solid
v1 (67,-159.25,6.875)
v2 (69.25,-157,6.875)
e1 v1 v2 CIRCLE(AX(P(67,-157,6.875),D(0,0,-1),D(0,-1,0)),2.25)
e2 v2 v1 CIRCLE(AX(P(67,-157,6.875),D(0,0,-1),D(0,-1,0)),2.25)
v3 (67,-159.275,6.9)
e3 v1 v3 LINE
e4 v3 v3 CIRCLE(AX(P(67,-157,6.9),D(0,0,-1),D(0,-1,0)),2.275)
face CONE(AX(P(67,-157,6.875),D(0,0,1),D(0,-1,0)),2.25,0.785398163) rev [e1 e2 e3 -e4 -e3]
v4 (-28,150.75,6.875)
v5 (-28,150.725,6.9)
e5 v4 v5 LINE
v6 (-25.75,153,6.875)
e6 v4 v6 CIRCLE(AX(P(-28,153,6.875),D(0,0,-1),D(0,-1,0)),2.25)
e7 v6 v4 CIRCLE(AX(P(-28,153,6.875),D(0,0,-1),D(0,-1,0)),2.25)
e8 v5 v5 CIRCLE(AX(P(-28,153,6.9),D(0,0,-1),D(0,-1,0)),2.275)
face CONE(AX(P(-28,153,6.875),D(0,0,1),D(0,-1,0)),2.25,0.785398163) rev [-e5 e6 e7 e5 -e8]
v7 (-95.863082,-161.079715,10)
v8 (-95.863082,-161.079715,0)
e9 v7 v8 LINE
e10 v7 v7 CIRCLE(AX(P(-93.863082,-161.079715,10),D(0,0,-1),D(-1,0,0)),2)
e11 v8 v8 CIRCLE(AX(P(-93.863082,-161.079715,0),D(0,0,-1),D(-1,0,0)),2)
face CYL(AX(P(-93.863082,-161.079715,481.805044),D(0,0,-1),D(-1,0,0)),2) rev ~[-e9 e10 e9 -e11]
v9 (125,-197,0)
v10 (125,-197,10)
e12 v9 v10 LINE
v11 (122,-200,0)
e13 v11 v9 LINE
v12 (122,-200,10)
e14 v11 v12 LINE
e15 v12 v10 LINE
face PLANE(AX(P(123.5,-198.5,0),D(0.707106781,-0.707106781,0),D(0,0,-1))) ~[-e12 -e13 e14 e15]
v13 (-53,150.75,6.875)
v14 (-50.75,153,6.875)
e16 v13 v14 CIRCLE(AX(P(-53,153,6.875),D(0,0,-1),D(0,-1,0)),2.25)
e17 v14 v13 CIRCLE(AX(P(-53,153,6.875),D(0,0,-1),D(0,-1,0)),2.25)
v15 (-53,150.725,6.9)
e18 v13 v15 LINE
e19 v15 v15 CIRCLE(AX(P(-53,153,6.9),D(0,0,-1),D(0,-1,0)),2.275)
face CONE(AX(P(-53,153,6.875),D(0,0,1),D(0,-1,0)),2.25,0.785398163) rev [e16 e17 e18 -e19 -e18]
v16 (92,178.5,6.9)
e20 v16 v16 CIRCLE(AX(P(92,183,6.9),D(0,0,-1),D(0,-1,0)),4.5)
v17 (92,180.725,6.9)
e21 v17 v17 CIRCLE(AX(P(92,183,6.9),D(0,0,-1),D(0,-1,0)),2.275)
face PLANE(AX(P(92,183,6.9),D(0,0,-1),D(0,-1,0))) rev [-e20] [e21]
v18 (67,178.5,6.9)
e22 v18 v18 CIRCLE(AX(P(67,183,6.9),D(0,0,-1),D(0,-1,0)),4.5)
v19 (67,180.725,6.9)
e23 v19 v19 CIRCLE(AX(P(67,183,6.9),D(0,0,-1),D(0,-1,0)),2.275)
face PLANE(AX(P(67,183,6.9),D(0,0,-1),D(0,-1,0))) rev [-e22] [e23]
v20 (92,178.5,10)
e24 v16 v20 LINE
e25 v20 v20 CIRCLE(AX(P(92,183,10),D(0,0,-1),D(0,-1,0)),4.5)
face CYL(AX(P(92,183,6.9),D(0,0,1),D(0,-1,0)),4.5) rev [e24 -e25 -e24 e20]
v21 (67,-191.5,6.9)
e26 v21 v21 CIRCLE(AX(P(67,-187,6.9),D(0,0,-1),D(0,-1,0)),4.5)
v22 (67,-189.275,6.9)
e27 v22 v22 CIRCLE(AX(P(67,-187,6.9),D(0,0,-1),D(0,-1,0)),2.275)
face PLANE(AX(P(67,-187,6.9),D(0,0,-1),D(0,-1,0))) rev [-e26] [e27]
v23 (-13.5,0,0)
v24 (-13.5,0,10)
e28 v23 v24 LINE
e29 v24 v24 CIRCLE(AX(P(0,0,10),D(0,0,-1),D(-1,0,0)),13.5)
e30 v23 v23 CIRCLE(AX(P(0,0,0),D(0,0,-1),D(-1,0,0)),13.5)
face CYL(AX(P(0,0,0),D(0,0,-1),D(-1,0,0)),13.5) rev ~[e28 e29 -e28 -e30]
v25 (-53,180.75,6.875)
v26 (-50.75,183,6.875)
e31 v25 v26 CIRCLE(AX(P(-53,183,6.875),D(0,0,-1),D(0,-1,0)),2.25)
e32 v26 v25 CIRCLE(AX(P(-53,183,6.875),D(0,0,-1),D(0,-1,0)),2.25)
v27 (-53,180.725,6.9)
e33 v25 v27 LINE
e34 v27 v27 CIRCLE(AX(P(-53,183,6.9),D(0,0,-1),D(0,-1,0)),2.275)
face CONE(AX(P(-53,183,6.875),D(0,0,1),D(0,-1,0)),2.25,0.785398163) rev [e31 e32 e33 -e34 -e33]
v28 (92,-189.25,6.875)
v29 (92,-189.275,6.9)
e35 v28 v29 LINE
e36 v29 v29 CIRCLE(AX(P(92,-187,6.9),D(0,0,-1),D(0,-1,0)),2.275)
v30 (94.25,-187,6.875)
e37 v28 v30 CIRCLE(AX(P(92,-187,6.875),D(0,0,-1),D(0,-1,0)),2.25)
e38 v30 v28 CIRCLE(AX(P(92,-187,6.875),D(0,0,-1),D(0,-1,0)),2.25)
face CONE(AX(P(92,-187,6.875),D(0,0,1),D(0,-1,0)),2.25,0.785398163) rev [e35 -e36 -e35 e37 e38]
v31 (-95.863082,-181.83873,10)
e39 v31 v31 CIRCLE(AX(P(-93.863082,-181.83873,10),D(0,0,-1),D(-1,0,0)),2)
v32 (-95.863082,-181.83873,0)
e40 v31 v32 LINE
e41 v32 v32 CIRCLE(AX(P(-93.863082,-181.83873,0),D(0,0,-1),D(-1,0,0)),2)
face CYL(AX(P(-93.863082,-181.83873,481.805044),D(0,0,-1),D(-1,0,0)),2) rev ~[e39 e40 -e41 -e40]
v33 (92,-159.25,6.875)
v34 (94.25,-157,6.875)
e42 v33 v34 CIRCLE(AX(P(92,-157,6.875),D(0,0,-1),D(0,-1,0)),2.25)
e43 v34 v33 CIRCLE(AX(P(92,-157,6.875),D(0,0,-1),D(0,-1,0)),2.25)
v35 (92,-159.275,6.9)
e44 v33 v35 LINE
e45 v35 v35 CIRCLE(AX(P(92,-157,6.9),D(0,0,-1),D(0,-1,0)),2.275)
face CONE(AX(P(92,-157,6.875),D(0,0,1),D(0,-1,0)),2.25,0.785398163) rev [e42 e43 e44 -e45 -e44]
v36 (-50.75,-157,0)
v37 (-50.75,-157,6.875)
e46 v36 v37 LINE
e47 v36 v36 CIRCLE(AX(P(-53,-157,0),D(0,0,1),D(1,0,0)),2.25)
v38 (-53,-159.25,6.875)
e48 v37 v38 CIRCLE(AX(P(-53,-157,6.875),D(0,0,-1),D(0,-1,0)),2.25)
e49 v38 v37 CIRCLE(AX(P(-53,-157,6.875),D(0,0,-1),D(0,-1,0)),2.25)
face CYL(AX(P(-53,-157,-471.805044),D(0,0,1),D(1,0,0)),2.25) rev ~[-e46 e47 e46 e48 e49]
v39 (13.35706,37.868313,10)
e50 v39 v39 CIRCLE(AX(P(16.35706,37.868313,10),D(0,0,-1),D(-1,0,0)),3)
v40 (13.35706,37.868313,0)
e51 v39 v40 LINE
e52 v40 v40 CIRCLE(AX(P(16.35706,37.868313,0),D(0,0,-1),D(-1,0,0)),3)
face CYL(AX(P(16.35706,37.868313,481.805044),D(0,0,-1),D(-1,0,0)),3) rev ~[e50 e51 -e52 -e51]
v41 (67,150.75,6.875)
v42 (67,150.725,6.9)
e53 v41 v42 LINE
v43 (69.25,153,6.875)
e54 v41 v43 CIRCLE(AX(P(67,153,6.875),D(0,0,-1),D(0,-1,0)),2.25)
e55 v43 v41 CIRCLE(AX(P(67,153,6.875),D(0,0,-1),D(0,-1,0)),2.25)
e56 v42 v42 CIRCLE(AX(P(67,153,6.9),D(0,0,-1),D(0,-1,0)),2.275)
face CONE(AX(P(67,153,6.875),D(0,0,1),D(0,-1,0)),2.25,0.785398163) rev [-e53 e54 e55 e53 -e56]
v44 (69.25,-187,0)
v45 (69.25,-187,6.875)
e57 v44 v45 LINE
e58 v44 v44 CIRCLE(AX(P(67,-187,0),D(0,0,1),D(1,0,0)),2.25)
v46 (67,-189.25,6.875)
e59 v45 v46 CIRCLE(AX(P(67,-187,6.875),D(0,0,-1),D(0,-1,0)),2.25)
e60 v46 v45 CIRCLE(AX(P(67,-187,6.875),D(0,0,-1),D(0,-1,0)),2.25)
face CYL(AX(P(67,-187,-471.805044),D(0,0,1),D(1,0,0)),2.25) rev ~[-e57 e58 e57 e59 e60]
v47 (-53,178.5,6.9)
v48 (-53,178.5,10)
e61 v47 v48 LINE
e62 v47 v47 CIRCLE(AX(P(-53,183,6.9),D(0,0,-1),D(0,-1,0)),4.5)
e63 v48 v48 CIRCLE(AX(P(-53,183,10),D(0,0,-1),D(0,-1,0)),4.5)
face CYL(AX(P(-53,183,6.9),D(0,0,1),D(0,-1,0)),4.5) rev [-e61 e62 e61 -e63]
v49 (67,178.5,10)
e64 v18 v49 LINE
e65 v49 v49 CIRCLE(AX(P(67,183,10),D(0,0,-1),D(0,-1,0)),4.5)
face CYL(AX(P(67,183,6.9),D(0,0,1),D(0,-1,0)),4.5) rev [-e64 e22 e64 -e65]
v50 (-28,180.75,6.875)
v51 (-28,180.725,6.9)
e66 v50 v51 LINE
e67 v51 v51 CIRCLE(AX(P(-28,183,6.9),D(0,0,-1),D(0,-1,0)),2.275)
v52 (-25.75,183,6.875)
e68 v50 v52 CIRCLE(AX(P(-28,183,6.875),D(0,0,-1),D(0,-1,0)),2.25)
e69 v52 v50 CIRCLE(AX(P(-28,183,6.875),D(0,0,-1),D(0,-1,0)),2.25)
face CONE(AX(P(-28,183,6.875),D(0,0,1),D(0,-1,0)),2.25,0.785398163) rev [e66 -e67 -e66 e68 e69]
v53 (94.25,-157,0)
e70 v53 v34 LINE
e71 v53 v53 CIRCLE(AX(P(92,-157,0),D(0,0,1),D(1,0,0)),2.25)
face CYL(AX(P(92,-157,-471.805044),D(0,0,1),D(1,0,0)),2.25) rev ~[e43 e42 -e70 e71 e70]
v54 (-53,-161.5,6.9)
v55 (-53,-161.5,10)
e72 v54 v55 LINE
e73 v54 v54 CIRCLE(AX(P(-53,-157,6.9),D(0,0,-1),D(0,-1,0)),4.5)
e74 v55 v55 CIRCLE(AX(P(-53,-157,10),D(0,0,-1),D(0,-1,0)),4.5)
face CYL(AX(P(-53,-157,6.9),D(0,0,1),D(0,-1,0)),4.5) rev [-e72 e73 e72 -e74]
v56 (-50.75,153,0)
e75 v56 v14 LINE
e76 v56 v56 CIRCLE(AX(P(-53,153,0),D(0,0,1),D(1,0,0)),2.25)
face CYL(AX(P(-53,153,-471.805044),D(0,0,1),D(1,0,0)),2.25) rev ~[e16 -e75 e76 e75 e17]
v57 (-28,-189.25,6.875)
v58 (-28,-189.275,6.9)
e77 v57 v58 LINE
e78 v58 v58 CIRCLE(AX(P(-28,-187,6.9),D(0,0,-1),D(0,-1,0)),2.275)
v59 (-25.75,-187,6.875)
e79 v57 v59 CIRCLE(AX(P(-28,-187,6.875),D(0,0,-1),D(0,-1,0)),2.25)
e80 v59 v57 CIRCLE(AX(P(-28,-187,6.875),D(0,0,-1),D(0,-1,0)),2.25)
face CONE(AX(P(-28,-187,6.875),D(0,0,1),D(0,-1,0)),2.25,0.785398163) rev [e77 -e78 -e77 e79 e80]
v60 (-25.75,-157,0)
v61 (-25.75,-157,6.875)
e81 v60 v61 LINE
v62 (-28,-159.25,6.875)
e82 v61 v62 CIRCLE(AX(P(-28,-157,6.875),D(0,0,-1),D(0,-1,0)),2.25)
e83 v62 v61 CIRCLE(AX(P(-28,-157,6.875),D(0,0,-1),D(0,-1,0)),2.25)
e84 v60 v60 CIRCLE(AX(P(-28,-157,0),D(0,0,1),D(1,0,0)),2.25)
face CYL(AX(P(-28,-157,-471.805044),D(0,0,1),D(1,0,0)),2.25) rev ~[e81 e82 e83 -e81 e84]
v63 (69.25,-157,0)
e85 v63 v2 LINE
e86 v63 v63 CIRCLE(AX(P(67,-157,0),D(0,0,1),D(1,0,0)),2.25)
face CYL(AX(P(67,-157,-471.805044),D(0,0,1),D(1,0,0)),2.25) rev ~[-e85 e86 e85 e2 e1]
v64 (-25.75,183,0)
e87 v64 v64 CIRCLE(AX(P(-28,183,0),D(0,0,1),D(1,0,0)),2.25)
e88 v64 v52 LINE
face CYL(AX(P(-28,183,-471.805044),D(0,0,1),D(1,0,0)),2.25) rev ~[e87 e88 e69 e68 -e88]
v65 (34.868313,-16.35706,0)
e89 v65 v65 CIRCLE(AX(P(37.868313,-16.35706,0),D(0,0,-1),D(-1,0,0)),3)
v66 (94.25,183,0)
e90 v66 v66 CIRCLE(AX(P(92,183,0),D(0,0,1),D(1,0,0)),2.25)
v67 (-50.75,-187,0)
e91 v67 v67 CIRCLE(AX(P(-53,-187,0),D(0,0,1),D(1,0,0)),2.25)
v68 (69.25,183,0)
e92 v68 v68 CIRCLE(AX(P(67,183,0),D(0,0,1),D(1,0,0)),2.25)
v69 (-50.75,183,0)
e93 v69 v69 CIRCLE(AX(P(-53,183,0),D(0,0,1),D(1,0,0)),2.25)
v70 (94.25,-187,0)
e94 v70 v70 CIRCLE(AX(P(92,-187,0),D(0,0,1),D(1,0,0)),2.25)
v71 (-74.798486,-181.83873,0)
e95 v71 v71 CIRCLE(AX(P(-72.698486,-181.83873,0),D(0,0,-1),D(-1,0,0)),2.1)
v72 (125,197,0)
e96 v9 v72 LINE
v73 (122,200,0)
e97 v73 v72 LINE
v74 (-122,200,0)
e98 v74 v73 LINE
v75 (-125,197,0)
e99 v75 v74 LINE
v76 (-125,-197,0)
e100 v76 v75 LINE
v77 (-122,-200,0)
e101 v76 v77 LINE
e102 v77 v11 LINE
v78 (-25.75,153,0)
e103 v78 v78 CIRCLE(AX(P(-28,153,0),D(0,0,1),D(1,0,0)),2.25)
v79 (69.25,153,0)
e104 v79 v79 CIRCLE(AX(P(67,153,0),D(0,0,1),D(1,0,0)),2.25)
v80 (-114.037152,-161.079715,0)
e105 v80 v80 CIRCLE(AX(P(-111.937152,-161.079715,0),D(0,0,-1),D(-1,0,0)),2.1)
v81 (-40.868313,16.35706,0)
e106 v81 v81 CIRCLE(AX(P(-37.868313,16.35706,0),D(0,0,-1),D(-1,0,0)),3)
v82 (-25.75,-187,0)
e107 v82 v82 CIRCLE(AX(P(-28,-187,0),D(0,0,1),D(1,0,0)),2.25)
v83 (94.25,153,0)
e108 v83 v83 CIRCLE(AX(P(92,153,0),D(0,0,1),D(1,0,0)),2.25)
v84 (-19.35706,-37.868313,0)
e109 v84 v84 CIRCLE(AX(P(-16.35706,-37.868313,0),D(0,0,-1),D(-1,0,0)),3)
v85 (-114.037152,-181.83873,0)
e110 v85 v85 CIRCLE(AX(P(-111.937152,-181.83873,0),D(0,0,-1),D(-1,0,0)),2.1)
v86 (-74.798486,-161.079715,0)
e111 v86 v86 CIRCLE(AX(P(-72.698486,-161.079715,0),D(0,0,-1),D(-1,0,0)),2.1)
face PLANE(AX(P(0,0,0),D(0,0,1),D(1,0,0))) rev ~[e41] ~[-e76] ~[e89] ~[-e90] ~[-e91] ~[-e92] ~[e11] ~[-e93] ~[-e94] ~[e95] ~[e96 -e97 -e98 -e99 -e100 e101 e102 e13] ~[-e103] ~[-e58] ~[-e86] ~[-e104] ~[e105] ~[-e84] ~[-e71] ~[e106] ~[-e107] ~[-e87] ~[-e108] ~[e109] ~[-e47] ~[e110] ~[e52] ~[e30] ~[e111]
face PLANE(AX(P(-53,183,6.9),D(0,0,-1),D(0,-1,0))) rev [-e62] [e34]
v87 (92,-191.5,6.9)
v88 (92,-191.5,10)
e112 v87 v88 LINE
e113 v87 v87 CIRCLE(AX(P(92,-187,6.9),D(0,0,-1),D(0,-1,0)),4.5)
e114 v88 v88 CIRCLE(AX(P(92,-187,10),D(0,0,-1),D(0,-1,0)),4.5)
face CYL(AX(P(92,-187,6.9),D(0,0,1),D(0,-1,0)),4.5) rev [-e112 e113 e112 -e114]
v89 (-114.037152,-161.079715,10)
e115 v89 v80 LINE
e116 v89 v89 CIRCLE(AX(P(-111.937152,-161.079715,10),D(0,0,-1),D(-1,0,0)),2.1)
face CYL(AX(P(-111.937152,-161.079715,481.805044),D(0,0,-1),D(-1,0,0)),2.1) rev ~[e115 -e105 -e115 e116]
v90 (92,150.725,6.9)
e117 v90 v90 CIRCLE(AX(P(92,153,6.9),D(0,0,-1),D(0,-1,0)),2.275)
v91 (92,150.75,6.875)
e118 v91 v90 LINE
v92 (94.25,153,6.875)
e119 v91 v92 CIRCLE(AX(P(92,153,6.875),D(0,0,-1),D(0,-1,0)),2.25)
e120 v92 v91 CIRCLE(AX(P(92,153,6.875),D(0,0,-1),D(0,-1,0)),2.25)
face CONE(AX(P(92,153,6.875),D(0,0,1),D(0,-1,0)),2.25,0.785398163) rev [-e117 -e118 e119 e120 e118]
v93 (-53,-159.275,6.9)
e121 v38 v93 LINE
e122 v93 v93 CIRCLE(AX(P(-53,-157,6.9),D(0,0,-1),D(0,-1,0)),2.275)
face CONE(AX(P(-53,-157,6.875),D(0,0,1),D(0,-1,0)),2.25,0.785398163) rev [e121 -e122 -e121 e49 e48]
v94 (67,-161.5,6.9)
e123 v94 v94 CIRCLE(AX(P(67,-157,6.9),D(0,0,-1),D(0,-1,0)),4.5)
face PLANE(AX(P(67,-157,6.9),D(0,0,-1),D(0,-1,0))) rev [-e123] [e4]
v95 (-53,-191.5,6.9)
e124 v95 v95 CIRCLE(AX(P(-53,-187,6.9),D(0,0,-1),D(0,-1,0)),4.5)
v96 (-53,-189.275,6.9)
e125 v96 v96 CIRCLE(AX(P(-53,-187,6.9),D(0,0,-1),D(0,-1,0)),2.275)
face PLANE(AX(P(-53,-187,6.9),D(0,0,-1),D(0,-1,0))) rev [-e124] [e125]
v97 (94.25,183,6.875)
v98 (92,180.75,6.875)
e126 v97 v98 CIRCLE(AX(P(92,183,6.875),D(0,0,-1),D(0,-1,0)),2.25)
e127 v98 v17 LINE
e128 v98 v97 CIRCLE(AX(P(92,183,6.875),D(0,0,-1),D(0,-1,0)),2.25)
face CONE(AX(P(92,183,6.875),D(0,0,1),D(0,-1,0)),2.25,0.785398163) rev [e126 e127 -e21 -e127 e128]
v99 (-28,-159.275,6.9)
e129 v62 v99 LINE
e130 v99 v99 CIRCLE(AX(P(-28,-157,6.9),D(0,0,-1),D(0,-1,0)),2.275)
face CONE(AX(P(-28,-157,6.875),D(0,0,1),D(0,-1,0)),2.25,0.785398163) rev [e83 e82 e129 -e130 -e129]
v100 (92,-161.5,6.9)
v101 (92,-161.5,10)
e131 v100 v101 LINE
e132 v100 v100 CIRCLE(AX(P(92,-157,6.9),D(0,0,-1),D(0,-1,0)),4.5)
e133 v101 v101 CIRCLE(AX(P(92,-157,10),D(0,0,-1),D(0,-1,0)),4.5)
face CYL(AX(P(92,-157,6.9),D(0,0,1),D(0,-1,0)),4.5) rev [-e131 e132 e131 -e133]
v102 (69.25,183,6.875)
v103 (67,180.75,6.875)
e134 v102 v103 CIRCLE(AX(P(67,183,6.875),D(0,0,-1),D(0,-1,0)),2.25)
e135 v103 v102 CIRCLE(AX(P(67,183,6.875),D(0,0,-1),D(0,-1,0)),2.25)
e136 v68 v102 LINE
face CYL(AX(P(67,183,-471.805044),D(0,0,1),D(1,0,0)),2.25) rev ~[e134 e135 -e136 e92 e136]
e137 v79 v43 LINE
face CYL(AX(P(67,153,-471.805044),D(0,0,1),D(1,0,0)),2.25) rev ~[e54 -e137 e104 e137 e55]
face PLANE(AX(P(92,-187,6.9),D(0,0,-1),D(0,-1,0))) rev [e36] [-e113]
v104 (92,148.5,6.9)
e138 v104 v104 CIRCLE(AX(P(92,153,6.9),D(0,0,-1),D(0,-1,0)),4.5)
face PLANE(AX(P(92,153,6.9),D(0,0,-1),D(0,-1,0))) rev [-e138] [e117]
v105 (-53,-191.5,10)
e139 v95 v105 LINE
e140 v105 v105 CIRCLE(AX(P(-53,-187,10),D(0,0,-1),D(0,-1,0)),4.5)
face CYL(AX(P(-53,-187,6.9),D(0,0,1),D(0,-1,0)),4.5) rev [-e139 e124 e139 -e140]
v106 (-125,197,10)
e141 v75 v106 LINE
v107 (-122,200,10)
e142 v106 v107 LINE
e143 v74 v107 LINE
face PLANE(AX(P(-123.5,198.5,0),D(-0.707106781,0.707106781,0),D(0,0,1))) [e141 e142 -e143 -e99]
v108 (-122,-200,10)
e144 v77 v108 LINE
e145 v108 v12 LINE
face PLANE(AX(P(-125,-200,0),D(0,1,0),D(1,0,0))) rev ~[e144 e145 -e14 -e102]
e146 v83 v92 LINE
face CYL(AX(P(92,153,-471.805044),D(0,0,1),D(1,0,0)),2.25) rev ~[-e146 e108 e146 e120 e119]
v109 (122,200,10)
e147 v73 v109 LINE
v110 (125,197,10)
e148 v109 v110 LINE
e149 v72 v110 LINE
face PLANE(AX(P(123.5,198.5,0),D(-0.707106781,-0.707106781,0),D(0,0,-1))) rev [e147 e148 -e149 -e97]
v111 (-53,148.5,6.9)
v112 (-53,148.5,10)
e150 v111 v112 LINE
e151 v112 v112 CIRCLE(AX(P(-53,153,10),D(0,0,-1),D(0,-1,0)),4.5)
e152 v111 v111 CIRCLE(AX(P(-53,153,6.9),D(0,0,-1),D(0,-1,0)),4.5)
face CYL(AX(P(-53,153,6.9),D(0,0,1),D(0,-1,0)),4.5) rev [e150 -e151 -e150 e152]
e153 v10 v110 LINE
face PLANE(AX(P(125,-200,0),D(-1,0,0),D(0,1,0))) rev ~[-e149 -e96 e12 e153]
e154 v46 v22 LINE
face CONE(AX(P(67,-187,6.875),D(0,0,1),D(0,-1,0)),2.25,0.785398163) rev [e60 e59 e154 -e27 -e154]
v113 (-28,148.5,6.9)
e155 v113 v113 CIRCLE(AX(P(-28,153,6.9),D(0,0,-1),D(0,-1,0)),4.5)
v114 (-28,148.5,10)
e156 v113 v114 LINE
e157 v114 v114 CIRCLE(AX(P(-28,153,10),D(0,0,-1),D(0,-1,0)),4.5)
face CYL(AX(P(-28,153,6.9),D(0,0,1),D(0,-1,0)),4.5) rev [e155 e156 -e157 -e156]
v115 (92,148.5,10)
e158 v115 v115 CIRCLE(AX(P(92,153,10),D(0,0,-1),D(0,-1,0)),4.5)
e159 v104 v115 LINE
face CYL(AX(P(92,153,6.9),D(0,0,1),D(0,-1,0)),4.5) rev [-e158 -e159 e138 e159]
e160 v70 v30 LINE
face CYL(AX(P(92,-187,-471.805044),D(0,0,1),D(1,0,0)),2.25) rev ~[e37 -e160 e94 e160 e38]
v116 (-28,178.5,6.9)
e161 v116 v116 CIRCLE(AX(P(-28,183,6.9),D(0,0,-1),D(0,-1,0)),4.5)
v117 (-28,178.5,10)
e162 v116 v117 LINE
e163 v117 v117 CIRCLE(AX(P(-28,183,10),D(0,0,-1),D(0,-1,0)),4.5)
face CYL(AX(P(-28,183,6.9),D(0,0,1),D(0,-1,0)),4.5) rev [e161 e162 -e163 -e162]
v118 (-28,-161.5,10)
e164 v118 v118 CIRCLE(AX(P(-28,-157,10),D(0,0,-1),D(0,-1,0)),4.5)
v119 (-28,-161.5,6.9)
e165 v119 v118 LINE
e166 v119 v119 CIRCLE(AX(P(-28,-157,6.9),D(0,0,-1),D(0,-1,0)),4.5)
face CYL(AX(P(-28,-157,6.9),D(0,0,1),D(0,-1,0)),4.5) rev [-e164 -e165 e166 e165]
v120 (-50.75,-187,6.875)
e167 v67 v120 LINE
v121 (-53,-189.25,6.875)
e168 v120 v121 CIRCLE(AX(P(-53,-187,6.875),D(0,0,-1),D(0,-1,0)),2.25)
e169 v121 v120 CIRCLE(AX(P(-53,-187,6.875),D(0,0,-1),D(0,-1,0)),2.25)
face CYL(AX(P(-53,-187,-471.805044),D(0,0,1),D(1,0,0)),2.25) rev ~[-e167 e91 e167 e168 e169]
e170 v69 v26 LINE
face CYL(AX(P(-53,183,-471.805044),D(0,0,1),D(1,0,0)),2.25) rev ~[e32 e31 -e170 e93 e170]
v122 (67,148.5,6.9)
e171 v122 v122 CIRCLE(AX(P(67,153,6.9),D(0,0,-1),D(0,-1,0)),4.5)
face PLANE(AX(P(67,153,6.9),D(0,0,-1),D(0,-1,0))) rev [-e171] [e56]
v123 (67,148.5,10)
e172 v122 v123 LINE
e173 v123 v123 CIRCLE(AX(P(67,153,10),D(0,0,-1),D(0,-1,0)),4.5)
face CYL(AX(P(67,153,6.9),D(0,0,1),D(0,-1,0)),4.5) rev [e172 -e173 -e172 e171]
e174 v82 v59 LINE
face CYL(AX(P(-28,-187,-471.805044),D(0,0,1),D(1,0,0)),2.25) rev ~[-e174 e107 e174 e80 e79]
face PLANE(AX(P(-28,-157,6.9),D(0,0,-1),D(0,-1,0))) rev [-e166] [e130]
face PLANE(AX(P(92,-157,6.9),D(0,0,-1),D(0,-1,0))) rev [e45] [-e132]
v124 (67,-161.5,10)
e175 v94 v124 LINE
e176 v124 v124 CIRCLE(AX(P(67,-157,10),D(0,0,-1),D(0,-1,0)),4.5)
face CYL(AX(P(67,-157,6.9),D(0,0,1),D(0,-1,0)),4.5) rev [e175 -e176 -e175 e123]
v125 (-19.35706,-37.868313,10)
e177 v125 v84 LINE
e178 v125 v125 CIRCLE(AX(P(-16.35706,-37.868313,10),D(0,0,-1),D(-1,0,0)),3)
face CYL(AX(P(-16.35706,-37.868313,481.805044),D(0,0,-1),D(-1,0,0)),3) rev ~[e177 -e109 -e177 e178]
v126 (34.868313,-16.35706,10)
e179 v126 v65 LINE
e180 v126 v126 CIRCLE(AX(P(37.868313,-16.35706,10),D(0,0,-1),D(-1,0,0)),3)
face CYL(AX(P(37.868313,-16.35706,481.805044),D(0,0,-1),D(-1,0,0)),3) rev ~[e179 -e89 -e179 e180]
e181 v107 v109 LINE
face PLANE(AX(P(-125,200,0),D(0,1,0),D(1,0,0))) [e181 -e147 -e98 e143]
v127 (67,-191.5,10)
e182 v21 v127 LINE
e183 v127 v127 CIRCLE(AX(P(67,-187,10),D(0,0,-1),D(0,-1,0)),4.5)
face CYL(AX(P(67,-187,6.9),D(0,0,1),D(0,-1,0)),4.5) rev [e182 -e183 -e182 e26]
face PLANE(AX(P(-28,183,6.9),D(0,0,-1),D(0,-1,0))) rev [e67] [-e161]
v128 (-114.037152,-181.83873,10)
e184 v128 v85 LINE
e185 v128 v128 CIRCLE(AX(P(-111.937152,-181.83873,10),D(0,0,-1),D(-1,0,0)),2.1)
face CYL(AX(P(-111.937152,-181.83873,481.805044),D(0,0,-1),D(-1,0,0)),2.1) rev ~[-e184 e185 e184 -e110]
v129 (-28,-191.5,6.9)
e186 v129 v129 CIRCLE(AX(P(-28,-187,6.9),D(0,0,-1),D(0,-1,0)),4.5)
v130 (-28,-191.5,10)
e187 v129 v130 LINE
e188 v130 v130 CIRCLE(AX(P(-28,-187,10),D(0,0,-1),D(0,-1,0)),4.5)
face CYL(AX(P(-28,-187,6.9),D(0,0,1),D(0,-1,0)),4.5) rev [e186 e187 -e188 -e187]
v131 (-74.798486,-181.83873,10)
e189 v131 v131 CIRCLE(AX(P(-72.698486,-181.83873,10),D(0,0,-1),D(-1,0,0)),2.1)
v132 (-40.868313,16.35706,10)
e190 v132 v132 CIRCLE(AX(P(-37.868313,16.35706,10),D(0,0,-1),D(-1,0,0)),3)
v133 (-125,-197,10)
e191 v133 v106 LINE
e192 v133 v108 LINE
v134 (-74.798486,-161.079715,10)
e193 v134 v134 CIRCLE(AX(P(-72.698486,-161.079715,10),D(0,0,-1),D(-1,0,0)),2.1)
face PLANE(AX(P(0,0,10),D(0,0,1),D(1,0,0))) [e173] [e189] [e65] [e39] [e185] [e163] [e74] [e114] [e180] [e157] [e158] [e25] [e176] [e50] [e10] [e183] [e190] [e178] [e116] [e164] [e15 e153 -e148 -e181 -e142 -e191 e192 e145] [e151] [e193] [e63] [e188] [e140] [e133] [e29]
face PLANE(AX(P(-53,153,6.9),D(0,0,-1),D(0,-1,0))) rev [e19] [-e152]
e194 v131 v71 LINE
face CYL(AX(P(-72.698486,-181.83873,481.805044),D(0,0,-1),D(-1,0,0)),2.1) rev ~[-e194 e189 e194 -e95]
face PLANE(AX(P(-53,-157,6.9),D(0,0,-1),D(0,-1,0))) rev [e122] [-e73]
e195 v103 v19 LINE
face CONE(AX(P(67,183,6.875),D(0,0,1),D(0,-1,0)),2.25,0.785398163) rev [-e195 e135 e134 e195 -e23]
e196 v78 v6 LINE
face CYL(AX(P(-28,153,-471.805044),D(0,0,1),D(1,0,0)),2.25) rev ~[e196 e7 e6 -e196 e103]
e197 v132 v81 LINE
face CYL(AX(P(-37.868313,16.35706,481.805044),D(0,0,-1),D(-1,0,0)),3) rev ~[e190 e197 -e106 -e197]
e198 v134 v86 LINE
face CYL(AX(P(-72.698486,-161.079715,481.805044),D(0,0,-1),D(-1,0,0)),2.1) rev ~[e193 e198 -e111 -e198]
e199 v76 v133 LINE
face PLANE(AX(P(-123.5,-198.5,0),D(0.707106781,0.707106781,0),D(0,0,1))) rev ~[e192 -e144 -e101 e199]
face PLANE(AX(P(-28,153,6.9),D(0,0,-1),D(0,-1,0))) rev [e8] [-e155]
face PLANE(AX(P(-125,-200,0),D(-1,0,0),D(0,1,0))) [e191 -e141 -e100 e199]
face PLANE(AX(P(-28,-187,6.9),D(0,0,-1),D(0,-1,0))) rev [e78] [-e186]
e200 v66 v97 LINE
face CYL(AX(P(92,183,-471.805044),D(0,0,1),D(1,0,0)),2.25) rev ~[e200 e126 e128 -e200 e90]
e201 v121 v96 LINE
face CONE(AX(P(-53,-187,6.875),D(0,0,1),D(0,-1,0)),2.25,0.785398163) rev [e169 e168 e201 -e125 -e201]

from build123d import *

# Parameters (mm, degrees)
ESQUISSE1_W                     = 250
ESQUISSE1_H                     = 400
BOSS_EXTRU_1_DEPTH              = 10
ESQUISSE2_R                     = 13.5
ENL_V_MAT_EXTRU_1_DEPTH         = 237.061432682
CHANFREIN1_SIZE                 = 3
TROU_TARAUD_M51_D               = 4.2
TROUS_DE_CENTRAGE_4_0MM2_D      = 4
TROUS_DE_CENTRAGE_6_0MM2_D      = 6
D_GAGEMENT_M41_D                = 4.5
R_P_TITION_LIN_AIRE1_COUNT      = 2
R_P_TITION_LIN_AIRE1_PITCH      = 120
R_P_TITION_LIN_AIRE1_COUNT_DIR2 = 2
R_P_TITION_LIN_AIRE1_PITCH_DIR2 = 340
R_P_TITION_LIN_AIRE2_COUNT      = 2
R_P_TITION_LIN_AIRE2_PITCH      = 30
R_P_TITION_LIN_AIRE2_COUNT_DIR2 = 2
R_P_TITION_LIN_AIRE2_PITCH_DIR2 = 25
R_P_TITION_LIN_AIRE3_COUNT      = 2
R_P_TITION_LIN_AIRE3_PITCH      = 120
R_P_TITION_LIN_AIRE3_COUNT_DIR2 = 2
R_P_TITION_LIN_AIRE3_PITCH_DIR2 = 340


with BuildPart() as part:
    # Esquisse1 → Boss.-Extru.1 (new body)
    with BuildSketch(Plane.XY):
        Rectangle(ESQUISSE1_W, ESQUISSE1_H)
    extrude(amount=BOSS_EXTRU_1_DEPTH)

    # Esquisse2 → Enlèv. mat.-Extru.1 (cut, through all)
    with BuildSketch(Plane(origin=(0, 0, 0), x_dir=(-1, 0, 0), z_dir=(0, 0, -1))):
        Circle(ESQUISSE2_R)
    extrude(amount=-ENL_V_MAT_EXTRU_1_DEPTH, mode=Mode.SUBTRACT)

    # Chanfrein1
    chanfrein1_edges = [part.edges().sort_by_distance(p)[0] for p in [
        (125, -200, 5),
        (-125, -200, 5),
        (-125, 200, 5),
        (125, 200, 5),
    ]]
    chamfer(chanfrein1_edges, length=CHANFREIN1_SIZE)

    # Trou taraudé M51 (through all)
    with Locations(Plane.XY.offset(10)):
        with Locations((-72.698486264, -161.07971462), (-72.698486264, -181.838730229), (-111.937151978, -181.838730229), (-111.937151978, -161.07971462)):
            Hole(TROU_TARAUD_M51_D / 2)

    # Trous de centrage Ø4.0mm2 (through all)
    with Locations(Plane.XY.offset(10)):
        with Locations((-93.86308218, -161.07971462), (-93.86308218, -181.838730229)):
            Hole(TROUS_DE_CENTRAGE_4_0MM2_D / 2)

    # Trous de centrage Ø6.0mm2 (through all)
    with Locations(Plane.XY.offset(10)):
        with Locations((16.357059687, 37.86831259), (37.86831259, -16.357059687), (-16.357059687, -37.86831259), (-37.86831259, 16.357059687)):
            Hole(TROUS_DE_CENTRAGE_6_0MM2_D / 2)

    # Dégagement M41 (through all)
    with Locations(Plane(origin=(0, 0, 0), x_dir=(-1, 0, 0), z_dir=(0, 0, -1))):
        with Locations((28, -187), (28, -157), (53, -157), (53, -187)):
            d_gagement_m41 = Hole(D_GAGEMENT_M41_D / 2)

    # Répétition linéaire1: D_gagement M41 2 × 2
    with Locations(*[(i * R_P_TITION_LIN_AIRE1_PITCH, j * R_P_TITION_LIN_AIRE1_PITCH_DIR2, 0) for i in range(R_P_TITION_LIN_AIRE1_COUNT) for j in range(R_P_TITION_LIN_AIRE1_COUNT_DIR2) if (i, j) != (0, 0)]):
        add(d_gagement_m41, mode=Mode.SUBTRACT)

    # Esquisse29 → Chambrage pour vis à tête ronde bombée M41 (revolve, cut)
    with BuildSketch(Plane(origin=(92, -157, 10), x_dir=(0, -1, 0), z_dir=(1, 0, 0))):
        Polygon((0, 0), (0, 10), (2.25, 10), (2.25, 3.125), (2.275, 3.1), (4.5, 3.1), (4.5, 0), align=None)
    chambrage_pour_vis_t_te_ronde_bomb_e_m = revolve(axis=Axis((92, -157, 16.35), (0, 0, -1)), mode=Mode.SUBTRACT)

    # Répétition linéaire2: Chambrage pour vis _ t_te ronde bomb_e M 2 × 2
    with Locations(*[(-j * R_P_TITION_LIN_AIRE2_PITCH_DIR2, -i * R_P_TITION_LIN_AIRE2_PITCH, 0) for i in range(R_P_TITION_LIN_AIRE2_COUNT) for j in range(R_P_TITION_LIN_AIRE2_COUNT_DIR2) if (i, j) != (0, 0)]):
        add(chambrage_pour_vis_t_te_ronde_bomb_e_m, mode=Mode.SUBTRACT)

    # Répétition linéaire3: Chambrage pour vis _ t_te ronde bomb_e M 2 × 2
    with Locations(*[(-i * R_P_TITION_LIN_AIRE3_PITCH, j * R_P_TITION_LIN_AIRE3_PITCH_DIR2, 0) for i in range(R_P_TITION_LIN_AIRE3_COUNT) for j in range(R_P_TITION_LIN_AIRE3_COUNT_DIR2) if (i, j) != (0, 0)]):
        add(chambrage_pour_vis_t_te_ronde_bomb_e_m, mode=Mode.SUBTRACT)

    # Répétition linéaire3 copy 1 sketch → Répétition linéaire3 copy 1 (revolve, cut)
    with BuildSketch(Plane(origin=(67, 183, 10), x_dir=(0, -1, 0), z_dir=(1, 0, 0))):
        Polygon((0, 0), (0, 10), (2.25, 10), (2.25, 3.125), (2.275, 3.1), (4.5, 3.1), (4.5, 0), align=None)
    revolve(axis=Axis((67, 183, 16.35), (0, 0, -1)), mode=Mode.SUBTRACT)

    # Répétition linéaire3 copy 2 sketch → Répétition linéaire3 copy 2 (revolve, cut)
    with BuildSketch(Plane(origin=(-53, -157, 10), x_dir=(0, -1, 0), z_dir=(1, 0, 0))):
        Polygon((0, 0), (0, 10), (2.25, 10), (2.25, 3.125), (2.275, 3.1), (4.5, 3.1), (4.5, 0), align=None)
    revolve(axis=Axis((-53, -157, 16.35), (0, 0, -1)), mode=Mode.SUBTRACT)

    # Répétition linéaire3 copy 3 sketch → Répétition linéaire3 copy 3 (revolve, cut)
    with BuildSketch(Plane(origin=(-53, 183, 10), x_dir=(0, -1, 0), z_dir=(1, 0, 0))):
        Polygon((0, 0), (0, 10), (2.25, 10), (2.25, 3.125), (2.275, 3.1), (4.5, 3.1), (4.5, 0), align=None)
    revolve(axis=Axis((-53, 183, 16.35), (0, 0, -1)), mode=Mode.SUBTRACT)

    # Répétition linéaire3 copy 4 sketch → Répétition linéaire3 copy 4 (revolve, cut)
    with BuildSketch(Plane(origin=(92, 153, 10), x_dir=(0, -1, 0), z_dir=(1, 0, 0))):
        Polygon((0, 0), (0, 10), (2.25, 10), (2.25, 3.125), (2.275, 3.1), (4.5, 3.1), (4.5, 0), align=None)
    revolve(axis=Axis((92, 153, 16.35), (0, 0, -1)), mode=Mode.SUBTRACT)

    # Répétition linéaire3 copy 5 sketch → Répétition linéaire3 copy 5 (revolve, cut)
    with BuildSketch(Plane(origin=(-28, -187, 10), x_dir=(0, -1, 0), z_dir=(1, 0, 0))):
        Polygon((0, 0), (0, 10), (2.25, 10), (2.25, 3.125), (2.275, 3.1), (4.5, 3.1), (4.5, 0), align=None)
    revolve(axis=Axis((-28, -187, 16.35), (0, 0, -1)), mode=Mode.SUBTRACT)

    # Répétition linéaire3 copy 6 sketch → Répétition linéaire3 copy 6 (revolve, cut)
    with BuildSketch(Plane(origin=(-28, 153, 10), x_dir=(0, -1, 0), z_dir=(1, 0, 0))):
        Polygon((0, 0), (0, 10), (2.25, 10), (2.25, 3.125), (2.275, 3.1), (4.5, 3.1), (4.5, 0), align=None)
    revolve(axis=Axis((-28, 153, 16.35), (0, 0, -1)), mode=Mode.SUBTRACT)

    # Répétition linéaire3 copy 7 sketch → Répétition linéaire3 copy 7 (revolve, cut)
    with BuildSketch(Plane(origin=(67, 153, 10), x_dir=(0, -1, 0), z_dir=(1, 0, 0))):
        Polygon((0, 0), (0, 10), (2.25, 10), (2.25, 3.125), (2.275, 3.1), (4.5, 3.1), (4.5, 0), align=None)
    revolve(axis=Axis((67, 153, 16.35), (0, 0, -1)), mode=Mode.SUBTRACT)

    # Répétition linéaire3 copy 8 sketch → Répétition linéaire3 copy 8 (revolve, cut)
    with BuildSketch(Plane(origin=(-53, -187, 10), x_dir=(0, -1, 0), z_dir=(1, 0, 0))):
        Polygon((0, 0), (0, 10), (2.25, 10), (2.25, 3.125), (2.275, 3.1), (4.5, 3.1), (4.5, 0), align=None)
    revolve(axis=Axis((-53, -187, 16.35), (0, 0, -1)), mode=Mode.SUBTRACT)

    # Répétition linéaire3 copy 9 sketch → Répétition linéaire3 copy 9 (revolve, cut)
    with BuildSketch(Plane(origin=(-53, 153, 10), x_dir=(0, -1, 0), z_dir=(1, 0, 0))):
        Polygon((0, 0), (0, 10), (2.25, 10), (2.25, 3.125), (2.275, 3.1), (4.5, 3.1), (4.5, 0), align=None)
    revolve(axis=Axis((-53, 153, 16.35), (0, 0, -1)), mode=Mode.SUBTRACT)


solid = part.part
